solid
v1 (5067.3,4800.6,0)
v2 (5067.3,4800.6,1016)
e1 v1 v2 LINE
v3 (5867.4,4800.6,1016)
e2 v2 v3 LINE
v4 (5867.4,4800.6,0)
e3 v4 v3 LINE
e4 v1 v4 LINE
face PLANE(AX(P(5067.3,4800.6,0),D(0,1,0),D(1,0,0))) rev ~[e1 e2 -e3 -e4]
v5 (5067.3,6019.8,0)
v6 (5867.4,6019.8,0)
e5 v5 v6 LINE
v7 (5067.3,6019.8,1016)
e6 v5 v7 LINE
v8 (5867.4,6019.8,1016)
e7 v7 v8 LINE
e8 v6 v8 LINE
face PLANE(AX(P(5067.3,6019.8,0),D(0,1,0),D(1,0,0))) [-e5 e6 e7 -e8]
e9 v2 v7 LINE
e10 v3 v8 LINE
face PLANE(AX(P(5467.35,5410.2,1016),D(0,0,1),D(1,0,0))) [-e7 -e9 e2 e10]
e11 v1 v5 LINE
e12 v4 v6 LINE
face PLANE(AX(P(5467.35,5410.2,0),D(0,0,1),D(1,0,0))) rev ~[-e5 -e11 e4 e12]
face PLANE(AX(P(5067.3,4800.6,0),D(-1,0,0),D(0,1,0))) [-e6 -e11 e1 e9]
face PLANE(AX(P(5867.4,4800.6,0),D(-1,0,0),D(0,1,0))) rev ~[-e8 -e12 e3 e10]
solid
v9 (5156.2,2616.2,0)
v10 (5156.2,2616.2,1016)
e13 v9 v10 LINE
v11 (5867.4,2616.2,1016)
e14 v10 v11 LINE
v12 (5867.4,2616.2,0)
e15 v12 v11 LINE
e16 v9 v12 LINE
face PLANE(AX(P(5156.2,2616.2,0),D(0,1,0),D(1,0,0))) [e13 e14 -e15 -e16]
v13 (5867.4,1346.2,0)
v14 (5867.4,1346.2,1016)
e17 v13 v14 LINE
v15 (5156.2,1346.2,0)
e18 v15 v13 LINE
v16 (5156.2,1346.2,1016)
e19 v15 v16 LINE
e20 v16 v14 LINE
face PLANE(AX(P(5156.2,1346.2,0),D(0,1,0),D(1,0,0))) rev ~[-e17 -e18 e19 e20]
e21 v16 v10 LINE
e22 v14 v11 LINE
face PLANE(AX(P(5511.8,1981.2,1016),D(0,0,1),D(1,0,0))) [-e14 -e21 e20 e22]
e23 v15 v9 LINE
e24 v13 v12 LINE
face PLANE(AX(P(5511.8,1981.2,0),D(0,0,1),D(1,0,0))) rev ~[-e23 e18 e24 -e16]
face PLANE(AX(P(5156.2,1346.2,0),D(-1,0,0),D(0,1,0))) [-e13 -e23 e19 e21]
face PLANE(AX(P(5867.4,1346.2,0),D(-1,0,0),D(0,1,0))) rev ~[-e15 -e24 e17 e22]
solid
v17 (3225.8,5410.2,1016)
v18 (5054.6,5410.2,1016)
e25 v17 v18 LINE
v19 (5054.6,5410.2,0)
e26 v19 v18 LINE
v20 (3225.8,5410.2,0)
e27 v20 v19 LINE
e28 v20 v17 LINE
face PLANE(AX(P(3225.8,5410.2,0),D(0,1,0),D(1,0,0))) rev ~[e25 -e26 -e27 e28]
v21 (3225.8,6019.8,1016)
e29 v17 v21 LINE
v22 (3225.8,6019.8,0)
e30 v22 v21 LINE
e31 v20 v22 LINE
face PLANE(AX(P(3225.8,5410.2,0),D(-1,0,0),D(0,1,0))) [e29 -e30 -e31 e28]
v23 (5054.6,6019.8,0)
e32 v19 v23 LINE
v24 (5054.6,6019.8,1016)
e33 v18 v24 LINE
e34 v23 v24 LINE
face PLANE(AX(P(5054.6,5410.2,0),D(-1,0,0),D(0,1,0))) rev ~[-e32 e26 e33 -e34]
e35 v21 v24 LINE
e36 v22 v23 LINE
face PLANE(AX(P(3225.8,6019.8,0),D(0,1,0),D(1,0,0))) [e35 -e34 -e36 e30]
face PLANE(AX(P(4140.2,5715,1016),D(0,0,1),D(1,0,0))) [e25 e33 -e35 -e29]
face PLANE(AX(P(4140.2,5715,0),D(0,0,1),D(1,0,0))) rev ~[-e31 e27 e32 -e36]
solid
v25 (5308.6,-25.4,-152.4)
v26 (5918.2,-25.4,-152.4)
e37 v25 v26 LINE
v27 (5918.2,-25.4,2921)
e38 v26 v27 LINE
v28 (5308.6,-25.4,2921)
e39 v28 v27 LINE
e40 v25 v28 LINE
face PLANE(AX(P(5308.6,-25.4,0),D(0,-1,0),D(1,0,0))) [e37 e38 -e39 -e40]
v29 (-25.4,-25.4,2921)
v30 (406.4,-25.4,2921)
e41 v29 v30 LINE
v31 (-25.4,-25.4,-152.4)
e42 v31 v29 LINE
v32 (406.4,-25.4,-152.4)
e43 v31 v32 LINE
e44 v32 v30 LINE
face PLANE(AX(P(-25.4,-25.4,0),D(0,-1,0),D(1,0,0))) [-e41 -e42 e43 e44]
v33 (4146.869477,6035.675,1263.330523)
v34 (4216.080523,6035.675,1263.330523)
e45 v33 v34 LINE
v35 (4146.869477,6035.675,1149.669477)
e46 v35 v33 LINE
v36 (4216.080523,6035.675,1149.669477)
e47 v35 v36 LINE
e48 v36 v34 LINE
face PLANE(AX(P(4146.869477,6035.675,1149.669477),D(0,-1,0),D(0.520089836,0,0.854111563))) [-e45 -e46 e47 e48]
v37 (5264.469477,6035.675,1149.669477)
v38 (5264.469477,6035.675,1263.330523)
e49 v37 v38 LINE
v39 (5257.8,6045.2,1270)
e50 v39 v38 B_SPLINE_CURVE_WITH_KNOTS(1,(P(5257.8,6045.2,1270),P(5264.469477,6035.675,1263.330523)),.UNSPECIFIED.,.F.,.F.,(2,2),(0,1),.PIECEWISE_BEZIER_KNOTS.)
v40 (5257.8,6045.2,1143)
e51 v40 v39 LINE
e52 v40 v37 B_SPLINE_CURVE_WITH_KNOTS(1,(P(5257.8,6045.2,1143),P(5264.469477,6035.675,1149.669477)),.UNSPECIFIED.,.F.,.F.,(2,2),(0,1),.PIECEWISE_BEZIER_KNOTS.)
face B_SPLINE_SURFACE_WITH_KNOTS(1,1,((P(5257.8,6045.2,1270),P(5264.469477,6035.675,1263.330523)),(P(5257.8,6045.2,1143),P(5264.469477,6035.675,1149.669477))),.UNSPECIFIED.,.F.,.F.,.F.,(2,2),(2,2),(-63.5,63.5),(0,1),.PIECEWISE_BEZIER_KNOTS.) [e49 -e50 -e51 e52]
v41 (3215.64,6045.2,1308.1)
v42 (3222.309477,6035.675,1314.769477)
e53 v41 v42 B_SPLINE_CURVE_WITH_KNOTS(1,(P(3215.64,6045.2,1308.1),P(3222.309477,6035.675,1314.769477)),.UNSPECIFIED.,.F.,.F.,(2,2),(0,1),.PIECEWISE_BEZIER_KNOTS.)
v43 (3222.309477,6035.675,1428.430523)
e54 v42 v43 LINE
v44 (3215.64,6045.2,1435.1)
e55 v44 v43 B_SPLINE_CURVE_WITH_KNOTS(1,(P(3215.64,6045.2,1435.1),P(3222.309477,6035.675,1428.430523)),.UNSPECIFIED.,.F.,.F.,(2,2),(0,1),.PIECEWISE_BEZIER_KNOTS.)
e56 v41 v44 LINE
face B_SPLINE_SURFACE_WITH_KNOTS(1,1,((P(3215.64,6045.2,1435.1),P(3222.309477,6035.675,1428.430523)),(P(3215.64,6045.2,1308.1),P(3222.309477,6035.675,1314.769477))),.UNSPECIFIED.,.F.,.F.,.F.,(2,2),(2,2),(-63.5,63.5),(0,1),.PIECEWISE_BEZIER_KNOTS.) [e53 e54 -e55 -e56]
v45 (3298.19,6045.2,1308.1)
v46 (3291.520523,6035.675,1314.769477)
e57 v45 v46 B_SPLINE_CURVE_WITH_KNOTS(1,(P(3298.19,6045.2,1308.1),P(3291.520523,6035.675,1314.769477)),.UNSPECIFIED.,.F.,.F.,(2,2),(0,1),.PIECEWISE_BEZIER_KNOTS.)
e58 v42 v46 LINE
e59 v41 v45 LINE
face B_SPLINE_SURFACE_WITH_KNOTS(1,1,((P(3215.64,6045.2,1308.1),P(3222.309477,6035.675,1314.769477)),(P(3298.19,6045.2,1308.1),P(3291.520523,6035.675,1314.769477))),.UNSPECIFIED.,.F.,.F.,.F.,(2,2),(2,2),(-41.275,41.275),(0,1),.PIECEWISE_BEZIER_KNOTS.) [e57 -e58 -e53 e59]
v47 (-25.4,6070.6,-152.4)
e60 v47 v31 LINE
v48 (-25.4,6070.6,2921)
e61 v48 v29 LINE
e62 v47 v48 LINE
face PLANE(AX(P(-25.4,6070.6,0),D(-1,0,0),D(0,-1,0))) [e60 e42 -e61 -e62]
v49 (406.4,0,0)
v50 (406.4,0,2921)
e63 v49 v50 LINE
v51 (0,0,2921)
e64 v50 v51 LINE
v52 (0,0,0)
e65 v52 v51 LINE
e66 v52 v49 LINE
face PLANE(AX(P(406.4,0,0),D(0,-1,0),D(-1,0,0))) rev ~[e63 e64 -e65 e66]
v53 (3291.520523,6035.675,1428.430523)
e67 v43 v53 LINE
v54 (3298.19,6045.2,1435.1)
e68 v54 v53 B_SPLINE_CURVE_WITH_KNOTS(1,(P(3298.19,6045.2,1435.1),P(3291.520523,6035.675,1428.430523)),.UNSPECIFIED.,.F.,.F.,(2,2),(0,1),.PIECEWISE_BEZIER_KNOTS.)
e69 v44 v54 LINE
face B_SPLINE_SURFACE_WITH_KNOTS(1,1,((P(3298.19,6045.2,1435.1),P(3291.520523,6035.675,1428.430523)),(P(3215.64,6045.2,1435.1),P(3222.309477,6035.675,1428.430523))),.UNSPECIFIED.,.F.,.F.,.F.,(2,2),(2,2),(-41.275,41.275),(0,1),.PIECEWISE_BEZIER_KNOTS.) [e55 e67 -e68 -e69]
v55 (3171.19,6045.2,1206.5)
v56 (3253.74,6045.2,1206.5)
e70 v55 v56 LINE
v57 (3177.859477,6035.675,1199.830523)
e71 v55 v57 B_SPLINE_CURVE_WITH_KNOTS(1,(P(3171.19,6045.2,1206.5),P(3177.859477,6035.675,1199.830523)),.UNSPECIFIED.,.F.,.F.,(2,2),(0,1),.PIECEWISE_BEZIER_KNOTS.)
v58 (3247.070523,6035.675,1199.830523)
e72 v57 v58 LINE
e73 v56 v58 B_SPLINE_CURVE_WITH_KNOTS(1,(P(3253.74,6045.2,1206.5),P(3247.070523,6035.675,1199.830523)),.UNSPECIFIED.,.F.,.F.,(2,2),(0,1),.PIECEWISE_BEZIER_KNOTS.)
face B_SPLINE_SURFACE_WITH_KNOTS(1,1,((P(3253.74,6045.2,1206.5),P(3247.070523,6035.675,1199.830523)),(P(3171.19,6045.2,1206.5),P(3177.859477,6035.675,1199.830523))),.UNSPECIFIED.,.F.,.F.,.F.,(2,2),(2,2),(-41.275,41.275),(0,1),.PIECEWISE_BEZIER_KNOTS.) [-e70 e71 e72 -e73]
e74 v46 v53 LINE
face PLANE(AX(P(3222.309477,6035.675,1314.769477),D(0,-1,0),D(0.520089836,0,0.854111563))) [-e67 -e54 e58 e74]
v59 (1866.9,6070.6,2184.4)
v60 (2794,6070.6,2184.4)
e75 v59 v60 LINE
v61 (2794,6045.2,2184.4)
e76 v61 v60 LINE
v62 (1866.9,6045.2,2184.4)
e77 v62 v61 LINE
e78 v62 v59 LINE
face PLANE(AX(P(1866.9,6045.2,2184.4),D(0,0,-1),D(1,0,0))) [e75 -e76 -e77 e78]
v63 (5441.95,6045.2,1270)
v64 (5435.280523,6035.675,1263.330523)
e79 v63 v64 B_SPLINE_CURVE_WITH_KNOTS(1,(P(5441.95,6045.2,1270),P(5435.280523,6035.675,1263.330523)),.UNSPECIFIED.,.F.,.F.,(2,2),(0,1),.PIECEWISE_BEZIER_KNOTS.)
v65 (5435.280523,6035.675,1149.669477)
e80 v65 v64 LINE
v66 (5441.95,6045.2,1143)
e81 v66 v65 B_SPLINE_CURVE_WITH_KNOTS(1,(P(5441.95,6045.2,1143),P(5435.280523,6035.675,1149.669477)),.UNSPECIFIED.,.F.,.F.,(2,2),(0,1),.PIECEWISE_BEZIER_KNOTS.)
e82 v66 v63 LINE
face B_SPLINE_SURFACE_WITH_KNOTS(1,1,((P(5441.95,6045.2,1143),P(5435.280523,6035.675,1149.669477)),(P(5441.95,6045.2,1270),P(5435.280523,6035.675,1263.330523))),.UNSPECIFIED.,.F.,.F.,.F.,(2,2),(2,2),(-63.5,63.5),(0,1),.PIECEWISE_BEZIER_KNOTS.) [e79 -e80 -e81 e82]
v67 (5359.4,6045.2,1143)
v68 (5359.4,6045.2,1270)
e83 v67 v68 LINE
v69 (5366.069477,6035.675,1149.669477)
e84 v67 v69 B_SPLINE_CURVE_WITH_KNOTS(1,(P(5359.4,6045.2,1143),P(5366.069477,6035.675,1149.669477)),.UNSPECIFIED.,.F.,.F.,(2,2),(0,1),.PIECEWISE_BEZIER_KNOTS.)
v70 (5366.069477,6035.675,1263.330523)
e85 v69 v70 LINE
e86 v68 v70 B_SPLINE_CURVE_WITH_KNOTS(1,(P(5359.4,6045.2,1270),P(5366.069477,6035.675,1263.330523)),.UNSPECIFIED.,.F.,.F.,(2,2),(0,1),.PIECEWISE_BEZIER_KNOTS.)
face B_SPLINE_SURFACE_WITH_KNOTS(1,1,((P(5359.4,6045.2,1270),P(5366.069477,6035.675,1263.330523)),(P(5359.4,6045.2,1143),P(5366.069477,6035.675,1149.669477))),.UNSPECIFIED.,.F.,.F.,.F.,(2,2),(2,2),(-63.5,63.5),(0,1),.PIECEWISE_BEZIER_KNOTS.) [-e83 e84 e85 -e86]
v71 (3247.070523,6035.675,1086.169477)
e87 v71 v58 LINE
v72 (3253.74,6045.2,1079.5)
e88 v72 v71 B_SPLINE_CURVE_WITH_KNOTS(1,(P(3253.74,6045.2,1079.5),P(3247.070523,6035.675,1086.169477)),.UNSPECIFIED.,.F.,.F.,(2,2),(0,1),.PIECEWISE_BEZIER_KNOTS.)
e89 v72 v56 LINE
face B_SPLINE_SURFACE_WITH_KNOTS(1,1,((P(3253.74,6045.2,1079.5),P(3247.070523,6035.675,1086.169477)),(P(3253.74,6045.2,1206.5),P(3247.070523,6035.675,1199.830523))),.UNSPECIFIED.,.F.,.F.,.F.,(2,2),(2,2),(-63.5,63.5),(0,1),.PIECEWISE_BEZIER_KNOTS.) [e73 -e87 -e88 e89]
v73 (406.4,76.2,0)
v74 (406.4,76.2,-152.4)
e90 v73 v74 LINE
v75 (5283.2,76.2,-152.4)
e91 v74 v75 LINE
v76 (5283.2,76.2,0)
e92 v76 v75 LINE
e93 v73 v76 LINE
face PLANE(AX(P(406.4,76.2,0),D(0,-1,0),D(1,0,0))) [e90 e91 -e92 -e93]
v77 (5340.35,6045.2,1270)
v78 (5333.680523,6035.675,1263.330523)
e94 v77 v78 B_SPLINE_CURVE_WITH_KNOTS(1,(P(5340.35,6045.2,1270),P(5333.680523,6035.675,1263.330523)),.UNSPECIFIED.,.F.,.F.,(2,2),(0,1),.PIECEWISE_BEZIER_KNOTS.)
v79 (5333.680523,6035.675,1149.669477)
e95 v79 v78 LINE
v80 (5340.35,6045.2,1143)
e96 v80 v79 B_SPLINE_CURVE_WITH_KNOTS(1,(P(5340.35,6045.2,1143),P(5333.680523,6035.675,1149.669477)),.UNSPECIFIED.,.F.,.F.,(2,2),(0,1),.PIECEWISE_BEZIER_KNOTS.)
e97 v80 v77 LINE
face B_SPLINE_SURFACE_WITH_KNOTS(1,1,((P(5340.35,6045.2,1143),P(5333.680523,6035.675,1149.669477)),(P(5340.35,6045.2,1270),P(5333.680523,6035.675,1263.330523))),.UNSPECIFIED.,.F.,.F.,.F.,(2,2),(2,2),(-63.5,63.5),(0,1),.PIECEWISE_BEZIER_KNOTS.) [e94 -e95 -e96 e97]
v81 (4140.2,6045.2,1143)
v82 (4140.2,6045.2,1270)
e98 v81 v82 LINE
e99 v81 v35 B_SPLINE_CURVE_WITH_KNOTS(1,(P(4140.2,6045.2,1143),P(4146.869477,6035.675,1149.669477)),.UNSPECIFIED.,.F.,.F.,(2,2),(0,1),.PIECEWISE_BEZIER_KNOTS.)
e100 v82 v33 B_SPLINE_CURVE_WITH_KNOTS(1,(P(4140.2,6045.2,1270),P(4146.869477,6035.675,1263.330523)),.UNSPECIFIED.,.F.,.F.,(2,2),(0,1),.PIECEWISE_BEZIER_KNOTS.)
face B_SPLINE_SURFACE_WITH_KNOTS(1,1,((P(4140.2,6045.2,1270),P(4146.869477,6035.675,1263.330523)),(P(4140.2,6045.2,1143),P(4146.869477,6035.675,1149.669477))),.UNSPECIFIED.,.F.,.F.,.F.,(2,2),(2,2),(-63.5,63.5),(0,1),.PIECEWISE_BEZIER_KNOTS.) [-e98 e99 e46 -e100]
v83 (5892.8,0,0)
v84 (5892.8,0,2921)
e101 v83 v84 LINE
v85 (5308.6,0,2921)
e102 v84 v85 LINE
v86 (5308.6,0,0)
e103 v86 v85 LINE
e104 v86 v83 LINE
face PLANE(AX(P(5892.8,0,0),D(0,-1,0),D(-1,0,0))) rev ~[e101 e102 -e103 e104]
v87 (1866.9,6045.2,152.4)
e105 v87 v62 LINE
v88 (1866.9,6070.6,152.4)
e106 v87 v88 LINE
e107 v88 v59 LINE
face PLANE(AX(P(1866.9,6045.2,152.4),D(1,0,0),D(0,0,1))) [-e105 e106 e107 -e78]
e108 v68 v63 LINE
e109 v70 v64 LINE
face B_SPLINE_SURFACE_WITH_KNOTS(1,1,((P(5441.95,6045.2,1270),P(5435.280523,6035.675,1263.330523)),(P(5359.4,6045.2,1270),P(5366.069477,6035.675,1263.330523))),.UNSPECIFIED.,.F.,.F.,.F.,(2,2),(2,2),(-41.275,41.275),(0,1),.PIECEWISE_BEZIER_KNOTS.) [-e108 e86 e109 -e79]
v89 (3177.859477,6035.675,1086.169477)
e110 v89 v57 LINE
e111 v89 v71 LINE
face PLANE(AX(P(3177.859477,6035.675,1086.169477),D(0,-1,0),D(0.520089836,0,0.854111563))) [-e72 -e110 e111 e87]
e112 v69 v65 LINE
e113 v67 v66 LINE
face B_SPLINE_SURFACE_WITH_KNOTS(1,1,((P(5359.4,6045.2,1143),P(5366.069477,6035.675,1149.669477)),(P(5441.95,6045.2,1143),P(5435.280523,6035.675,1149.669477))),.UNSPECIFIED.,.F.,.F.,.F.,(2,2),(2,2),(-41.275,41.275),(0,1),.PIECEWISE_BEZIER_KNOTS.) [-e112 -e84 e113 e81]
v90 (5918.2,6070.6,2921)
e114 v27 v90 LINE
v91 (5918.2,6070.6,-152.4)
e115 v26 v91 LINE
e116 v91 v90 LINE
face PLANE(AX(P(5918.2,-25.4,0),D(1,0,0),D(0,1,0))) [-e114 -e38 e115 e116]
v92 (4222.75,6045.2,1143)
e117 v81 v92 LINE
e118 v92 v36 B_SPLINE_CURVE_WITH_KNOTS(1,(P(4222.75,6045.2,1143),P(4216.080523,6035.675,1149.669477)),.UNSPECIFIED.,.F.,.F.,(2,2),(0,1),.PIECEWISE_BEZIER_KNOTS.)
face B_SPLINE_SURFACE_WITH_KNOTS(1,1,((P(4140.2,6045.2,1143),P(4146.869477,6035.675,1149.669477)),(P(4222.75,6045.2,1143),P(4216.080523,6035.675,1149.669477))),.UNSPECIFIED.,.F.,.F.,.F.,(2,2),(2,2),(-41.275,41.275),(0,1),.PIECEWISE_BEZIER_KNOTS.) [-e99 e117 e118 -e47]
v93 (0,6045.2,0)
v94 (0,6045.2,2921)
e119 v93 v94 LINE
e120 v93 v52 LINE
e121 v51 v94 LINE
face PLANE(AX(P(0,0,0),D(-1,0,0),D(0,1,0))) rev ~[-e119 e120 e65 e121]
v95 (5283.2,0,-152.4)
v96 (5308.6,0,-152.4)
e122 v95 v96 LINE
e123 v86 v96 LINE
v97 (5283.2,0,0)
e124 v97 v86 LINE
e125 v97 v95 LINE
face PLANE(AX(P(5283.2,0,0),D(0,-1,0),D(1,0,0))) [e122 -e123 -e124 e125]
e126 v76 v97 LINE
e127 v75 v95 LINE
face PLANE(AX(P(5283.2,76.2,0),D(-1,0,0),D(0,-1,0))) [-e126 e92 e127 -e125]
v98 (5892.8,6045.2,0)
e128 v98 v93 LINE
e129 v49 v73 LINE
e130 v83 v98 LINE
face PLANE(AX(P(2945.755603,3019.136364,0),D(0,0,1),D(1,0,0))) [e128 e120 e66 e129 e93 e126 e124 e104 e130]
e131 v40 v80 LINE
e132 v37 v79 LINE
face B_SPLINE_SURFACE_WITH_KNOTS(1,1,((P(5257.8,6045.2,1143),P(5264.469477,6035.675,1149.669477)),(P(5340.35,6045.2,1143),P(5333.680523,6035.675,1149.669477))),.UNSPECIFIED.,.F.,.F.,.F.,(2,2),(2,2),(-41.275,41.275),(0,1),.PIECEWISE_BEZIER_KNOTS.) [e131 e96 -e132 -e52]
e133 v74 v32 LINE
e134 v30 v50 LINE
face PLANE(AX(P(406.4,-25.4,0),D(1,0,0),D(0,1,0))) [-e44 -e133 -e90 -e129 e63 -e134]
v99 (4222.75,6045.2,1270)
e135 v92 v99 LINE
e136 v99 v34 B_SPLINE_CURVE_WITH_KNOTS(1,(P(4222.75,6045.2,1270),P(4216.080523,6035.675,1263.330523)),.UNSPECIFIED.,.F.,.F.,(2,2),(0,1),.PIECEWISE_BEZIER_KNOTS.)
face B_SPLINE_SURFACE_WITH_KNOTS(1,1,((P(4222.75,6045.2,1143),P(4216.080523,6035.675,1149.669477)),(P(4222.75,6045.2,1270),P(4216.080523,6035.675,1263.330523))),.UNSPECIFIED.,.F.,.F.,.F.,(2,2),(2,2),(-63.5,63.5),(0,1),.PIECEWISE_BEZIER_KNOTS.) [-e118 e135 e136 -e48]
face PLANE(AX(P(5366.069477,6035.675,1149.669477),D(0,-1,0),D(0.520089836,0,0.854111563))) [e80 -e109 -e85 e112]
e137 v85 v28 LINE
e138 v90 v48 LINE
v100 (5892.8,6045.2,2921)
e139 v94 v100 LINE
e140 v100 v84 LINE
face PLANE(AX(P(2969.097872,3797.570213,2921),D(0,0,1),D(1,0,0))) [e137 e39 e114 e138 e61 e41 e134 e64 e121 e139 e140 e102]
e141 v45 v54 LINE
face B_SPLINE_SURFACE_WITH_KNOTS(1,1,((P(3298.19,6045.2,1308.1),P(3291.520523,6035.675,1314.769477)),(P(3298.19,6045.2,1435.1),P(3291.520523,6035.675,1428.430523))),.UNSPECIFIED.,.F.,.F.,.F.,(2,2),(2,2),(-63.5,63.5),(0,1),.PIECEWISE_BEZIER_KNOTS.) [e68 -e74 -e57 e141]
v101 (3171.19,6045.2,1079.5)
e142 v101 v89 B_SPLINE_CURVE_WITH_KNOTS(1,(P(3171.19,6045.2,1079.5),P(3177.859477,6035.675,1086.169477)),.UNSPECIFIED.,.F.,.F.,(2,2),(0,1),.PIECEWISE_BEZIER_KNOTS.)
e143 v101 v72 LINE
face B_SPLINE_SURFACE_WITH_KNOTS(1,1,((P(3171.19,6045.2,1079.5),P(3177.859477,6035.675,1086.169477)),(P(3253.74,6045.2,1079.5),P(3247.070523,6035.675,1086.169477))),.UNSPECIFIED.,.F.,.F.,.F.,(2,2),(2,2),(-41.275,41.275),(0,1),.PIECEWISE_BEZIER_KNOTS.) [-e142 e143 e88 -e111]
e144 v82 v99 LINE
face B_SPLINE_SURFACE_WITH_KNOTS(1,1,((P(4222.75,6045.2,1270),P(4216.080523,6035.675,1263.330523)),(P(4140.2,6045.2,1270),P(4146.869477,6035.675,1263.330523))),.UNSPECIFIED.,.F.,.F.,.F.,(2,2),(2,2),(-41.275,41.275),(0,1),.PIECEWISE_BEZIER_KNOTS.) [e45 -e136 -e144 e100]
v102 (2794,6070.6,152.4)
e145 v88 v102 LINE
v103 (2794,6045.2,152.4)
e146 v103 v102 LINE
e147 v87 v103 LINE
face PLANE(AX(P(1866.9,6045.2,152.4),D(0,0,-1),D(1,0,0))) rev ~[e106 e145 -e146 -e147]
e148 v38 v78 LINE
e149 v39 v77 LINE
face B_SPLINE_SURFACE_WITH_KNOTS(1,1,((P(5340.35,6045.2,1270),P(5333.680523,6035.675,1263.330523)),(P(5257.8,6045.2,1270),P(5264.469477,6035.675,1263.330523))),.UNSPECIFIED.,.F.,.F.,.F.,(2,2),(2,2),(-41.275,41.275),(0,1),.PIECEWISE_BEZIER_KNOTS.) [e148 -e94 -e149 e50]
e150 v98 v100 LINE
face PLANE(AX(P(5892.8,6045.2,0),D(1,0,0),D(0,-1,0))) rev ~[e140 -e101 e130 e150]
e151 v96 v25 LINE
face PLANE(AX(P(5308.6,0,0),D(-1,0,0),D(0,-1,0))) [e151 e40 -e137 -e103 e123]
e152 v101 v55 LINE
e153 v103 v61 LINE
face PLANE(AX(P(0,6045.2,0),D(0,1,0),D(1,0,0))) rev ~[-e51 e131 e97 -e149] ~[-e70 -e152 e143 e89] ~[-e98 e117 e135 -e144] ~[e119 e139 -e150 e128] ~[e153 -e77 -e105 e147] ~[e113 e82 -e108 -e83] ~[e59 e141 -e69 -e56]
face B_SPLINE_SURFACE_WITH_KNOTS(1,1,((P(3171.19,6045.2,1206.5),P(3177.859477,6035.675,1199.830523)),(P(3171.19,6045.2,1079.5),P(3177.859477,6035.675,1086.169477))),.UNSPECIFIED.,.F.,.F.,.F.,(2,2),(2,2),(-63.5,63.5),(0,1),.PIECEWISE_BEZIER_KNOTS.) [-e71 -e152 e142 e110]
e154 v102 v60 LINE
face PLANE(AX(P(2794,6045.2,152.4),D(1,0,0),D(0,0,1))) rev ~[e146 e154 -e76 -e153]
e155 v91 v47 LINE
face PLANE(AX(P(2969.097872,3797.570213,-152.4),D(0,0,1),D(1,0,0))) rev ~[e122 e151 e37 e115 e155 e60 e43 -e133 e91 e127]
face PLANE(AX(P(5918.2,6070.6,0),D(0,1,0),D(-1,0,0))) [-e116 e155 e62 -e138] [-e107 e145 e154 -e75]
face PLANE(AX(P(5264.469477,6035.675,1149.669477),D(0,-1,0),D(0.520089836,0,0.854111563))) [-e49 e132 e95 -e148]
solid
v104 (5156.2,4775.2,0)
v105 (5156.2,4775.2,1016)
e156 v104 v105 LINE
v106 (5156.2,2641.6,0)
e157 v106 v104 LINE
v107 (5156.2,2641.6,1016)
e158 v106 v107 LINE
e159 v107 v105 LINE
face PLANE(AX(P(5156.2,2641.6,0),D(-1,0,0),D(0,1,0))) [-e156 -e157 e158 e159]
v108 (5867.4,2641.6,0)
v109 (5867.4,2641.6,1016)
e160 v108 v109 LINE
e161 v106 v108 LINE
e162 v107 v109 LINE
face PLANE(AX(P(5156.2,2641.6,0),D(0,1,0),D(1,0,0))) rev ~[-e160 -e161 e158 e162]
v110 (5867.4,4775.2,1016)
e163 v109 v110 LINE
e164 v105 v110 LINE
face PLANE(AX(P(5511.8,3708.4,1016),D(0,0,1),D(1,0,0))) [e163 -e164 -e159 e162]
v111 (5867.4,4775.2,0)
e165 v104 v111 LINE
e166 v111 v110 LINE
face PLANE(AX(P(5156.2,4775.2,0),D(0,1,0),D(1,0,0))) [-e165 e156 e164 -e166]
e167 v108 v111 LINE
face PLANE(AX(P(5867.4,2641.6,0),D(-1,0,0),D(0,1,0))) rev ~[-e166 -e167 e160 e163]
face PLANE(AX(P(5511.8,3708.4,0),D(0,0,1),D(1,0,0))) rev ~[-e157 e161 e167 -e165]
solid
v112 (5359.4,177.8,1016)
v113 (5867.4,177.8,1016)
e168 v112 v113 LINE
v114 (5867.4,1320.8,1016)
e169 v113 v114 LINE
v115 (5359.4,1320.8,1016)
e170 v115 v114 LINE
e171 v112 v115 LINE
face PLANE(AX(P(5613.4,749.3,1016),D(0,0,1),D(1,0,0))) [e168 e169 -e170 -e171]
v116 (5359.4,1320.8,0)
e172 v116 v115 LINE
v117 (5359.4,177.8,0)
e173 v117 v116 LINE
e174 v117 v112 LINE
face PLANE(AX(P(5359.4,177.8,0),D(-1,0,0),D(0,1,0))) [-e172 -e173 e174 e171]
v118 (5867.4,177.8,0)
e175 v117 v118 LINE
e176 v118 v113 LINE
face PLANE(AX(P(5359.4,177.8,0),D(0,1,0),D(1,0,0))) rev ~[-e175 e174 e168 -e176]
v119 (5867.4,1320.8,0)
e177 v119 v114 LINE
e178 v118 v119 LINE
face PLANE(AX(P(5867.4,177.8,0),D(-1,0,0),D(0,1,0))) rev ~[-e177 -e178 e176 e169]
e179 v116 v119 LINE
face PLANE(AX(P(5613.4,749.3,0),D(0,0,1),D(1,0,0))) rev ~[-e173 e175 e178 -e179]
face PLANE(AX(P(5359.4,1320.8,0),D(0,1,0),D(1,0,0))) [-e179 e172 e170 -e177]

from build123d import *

# Parameters (mm, degrees)
F1_DEPTH      = 152.4
F3_DEPTH      = 2921
F3_DEPTH_BACK = 152.4
F4_W          = 927.1
F4_H          = 2032
F5_DEPTH      = 25.4
F6_W          = 82.55
F6_H          = 127
F7_DEPTH      = 9.525
F7_TAPER      = 35
F8_W          = 1828.8
F8_H          = 609.6
F9_DEPTH      = 1016
F10_W         = 800.1
F10_H         = 1219.2
F11_DEPTH     = 1016
F13_W         = 711.2
F13_H         = 2133.6
F14_DEPTH     = 1016
F15_W         = 711.2
F15_H         = 1270
F16_DEPTH     = 1016
F17_W         = 508
F17_H         = 1143
F18_DEPTH     = 1016


with BuildPart() as f1:
    # F0 (on Top) → F1 (new body)
    with BuildSketch(Plane.XY):
        Polygon((0, 6045.2), (0, 0), (406.4, 0), (406.4, 76.2), (5283.2, 76.2), (5283.2, 0), (5892.8, 0), (5892.8, 6045.2), align=None)
    extrude(amount=-F1_DEPTH)

    # F2 (on Top) → F3 (join, two sides)
    with BuildSketch(Plane.XY) as f3_sk:
        Polygon((406.4, 0), (0, 0), (0, 6045.2), (5892.8, 6045.2), (5892.8, 0), (5308.6, 0), (5308.6, -25.4), (5918.2, -25.4), (5918.2, 6070.6), (-25.4, 6070.6), (-25.4, -25.4), (406.4, -25.4), align=None)
    extrude(amount=F3_DEPTH)
    extrude(f3_sk.sketch, amount=-F3_DEPTH_BACK)

    # F4 (on face) → F5 (cut)
    with BuildSketch(Plane.XZ.offset(-6045.2)):
        with Locations((2330.45, 1168.4)):
            Rectangle(F4_W, F4_H)
    extrude(amount=-F5_DEPTH, mode=Mode.SUBTRACT)

    # F6 (on face) → F7 (join)
    with BuildSketch(Plane.XZ.offset(-6045.2)):
        with Locations((3212.465, 1143)):
            Rectangle(F6_W, F6_H)
        with Locations((4181.475, 1206.5)):
            Rectangle(F6_W, F6_H)
        with Locations((3256.915, 1371.6)):
            Rectangle(F6_W, F6_H)
        with Locations((5400.675, 1206.5)):
            Rectangle(F6_W, F6_H)
        with Locations((5299.075, 1206.5)):
            Rectangle(F6_W, F6_H)
    extrude(amount=F7_DEPTH, taper=F7_TAPER)


with BuildPart() as f9:
    # F8 (on face) → F9 (new body)
    with BuildSketch(Plane.XY):
        with Locations((4140.2, 5715)):
            Rectangle(F8_W, F8_H)
    extrude(amount=F9_DEPTH)


with BuildPart() as f11:
    # F10 (on face) → F11 (new body)
    with BuildSketch(Plane.XY):
        with Locations((5467.35, 5410.2)):
            Rectangle(F10_W, F10_H)
    extrude(amount=F11_DEPTH)


with BuildPart() as f14:
    # F13 (on face) → F14 (new body)
    with BuildSketch(Plane.XY):
        with Locations((5511.8, 3708.4)):
            Rectangle(F13_W, F13_H)
    extrude(amount=F14_DEPTH)


with BuildPart() as f16:
    # F15 (on face) → F16 (new body)
    with BuildSketch(Plane.XY):
        with Locations((5511.8, 1981.2)):
            Rectangle(F15_W, F15_H)
    extrude(amount=F16_DEPTH)


with BuildPart() as f18:
    # F17 (on face) → F18 (new body)
    with BuildSketch(Plane.XY):
        with Locations((5613.4, 749.3)):
            Rectangle(F17_W, F17_H)
    extrude(amount=F18_DEPTH)


solid = Compound([f1.part, f9.part, f11.part, f14.part, f16.part, f18.part])
